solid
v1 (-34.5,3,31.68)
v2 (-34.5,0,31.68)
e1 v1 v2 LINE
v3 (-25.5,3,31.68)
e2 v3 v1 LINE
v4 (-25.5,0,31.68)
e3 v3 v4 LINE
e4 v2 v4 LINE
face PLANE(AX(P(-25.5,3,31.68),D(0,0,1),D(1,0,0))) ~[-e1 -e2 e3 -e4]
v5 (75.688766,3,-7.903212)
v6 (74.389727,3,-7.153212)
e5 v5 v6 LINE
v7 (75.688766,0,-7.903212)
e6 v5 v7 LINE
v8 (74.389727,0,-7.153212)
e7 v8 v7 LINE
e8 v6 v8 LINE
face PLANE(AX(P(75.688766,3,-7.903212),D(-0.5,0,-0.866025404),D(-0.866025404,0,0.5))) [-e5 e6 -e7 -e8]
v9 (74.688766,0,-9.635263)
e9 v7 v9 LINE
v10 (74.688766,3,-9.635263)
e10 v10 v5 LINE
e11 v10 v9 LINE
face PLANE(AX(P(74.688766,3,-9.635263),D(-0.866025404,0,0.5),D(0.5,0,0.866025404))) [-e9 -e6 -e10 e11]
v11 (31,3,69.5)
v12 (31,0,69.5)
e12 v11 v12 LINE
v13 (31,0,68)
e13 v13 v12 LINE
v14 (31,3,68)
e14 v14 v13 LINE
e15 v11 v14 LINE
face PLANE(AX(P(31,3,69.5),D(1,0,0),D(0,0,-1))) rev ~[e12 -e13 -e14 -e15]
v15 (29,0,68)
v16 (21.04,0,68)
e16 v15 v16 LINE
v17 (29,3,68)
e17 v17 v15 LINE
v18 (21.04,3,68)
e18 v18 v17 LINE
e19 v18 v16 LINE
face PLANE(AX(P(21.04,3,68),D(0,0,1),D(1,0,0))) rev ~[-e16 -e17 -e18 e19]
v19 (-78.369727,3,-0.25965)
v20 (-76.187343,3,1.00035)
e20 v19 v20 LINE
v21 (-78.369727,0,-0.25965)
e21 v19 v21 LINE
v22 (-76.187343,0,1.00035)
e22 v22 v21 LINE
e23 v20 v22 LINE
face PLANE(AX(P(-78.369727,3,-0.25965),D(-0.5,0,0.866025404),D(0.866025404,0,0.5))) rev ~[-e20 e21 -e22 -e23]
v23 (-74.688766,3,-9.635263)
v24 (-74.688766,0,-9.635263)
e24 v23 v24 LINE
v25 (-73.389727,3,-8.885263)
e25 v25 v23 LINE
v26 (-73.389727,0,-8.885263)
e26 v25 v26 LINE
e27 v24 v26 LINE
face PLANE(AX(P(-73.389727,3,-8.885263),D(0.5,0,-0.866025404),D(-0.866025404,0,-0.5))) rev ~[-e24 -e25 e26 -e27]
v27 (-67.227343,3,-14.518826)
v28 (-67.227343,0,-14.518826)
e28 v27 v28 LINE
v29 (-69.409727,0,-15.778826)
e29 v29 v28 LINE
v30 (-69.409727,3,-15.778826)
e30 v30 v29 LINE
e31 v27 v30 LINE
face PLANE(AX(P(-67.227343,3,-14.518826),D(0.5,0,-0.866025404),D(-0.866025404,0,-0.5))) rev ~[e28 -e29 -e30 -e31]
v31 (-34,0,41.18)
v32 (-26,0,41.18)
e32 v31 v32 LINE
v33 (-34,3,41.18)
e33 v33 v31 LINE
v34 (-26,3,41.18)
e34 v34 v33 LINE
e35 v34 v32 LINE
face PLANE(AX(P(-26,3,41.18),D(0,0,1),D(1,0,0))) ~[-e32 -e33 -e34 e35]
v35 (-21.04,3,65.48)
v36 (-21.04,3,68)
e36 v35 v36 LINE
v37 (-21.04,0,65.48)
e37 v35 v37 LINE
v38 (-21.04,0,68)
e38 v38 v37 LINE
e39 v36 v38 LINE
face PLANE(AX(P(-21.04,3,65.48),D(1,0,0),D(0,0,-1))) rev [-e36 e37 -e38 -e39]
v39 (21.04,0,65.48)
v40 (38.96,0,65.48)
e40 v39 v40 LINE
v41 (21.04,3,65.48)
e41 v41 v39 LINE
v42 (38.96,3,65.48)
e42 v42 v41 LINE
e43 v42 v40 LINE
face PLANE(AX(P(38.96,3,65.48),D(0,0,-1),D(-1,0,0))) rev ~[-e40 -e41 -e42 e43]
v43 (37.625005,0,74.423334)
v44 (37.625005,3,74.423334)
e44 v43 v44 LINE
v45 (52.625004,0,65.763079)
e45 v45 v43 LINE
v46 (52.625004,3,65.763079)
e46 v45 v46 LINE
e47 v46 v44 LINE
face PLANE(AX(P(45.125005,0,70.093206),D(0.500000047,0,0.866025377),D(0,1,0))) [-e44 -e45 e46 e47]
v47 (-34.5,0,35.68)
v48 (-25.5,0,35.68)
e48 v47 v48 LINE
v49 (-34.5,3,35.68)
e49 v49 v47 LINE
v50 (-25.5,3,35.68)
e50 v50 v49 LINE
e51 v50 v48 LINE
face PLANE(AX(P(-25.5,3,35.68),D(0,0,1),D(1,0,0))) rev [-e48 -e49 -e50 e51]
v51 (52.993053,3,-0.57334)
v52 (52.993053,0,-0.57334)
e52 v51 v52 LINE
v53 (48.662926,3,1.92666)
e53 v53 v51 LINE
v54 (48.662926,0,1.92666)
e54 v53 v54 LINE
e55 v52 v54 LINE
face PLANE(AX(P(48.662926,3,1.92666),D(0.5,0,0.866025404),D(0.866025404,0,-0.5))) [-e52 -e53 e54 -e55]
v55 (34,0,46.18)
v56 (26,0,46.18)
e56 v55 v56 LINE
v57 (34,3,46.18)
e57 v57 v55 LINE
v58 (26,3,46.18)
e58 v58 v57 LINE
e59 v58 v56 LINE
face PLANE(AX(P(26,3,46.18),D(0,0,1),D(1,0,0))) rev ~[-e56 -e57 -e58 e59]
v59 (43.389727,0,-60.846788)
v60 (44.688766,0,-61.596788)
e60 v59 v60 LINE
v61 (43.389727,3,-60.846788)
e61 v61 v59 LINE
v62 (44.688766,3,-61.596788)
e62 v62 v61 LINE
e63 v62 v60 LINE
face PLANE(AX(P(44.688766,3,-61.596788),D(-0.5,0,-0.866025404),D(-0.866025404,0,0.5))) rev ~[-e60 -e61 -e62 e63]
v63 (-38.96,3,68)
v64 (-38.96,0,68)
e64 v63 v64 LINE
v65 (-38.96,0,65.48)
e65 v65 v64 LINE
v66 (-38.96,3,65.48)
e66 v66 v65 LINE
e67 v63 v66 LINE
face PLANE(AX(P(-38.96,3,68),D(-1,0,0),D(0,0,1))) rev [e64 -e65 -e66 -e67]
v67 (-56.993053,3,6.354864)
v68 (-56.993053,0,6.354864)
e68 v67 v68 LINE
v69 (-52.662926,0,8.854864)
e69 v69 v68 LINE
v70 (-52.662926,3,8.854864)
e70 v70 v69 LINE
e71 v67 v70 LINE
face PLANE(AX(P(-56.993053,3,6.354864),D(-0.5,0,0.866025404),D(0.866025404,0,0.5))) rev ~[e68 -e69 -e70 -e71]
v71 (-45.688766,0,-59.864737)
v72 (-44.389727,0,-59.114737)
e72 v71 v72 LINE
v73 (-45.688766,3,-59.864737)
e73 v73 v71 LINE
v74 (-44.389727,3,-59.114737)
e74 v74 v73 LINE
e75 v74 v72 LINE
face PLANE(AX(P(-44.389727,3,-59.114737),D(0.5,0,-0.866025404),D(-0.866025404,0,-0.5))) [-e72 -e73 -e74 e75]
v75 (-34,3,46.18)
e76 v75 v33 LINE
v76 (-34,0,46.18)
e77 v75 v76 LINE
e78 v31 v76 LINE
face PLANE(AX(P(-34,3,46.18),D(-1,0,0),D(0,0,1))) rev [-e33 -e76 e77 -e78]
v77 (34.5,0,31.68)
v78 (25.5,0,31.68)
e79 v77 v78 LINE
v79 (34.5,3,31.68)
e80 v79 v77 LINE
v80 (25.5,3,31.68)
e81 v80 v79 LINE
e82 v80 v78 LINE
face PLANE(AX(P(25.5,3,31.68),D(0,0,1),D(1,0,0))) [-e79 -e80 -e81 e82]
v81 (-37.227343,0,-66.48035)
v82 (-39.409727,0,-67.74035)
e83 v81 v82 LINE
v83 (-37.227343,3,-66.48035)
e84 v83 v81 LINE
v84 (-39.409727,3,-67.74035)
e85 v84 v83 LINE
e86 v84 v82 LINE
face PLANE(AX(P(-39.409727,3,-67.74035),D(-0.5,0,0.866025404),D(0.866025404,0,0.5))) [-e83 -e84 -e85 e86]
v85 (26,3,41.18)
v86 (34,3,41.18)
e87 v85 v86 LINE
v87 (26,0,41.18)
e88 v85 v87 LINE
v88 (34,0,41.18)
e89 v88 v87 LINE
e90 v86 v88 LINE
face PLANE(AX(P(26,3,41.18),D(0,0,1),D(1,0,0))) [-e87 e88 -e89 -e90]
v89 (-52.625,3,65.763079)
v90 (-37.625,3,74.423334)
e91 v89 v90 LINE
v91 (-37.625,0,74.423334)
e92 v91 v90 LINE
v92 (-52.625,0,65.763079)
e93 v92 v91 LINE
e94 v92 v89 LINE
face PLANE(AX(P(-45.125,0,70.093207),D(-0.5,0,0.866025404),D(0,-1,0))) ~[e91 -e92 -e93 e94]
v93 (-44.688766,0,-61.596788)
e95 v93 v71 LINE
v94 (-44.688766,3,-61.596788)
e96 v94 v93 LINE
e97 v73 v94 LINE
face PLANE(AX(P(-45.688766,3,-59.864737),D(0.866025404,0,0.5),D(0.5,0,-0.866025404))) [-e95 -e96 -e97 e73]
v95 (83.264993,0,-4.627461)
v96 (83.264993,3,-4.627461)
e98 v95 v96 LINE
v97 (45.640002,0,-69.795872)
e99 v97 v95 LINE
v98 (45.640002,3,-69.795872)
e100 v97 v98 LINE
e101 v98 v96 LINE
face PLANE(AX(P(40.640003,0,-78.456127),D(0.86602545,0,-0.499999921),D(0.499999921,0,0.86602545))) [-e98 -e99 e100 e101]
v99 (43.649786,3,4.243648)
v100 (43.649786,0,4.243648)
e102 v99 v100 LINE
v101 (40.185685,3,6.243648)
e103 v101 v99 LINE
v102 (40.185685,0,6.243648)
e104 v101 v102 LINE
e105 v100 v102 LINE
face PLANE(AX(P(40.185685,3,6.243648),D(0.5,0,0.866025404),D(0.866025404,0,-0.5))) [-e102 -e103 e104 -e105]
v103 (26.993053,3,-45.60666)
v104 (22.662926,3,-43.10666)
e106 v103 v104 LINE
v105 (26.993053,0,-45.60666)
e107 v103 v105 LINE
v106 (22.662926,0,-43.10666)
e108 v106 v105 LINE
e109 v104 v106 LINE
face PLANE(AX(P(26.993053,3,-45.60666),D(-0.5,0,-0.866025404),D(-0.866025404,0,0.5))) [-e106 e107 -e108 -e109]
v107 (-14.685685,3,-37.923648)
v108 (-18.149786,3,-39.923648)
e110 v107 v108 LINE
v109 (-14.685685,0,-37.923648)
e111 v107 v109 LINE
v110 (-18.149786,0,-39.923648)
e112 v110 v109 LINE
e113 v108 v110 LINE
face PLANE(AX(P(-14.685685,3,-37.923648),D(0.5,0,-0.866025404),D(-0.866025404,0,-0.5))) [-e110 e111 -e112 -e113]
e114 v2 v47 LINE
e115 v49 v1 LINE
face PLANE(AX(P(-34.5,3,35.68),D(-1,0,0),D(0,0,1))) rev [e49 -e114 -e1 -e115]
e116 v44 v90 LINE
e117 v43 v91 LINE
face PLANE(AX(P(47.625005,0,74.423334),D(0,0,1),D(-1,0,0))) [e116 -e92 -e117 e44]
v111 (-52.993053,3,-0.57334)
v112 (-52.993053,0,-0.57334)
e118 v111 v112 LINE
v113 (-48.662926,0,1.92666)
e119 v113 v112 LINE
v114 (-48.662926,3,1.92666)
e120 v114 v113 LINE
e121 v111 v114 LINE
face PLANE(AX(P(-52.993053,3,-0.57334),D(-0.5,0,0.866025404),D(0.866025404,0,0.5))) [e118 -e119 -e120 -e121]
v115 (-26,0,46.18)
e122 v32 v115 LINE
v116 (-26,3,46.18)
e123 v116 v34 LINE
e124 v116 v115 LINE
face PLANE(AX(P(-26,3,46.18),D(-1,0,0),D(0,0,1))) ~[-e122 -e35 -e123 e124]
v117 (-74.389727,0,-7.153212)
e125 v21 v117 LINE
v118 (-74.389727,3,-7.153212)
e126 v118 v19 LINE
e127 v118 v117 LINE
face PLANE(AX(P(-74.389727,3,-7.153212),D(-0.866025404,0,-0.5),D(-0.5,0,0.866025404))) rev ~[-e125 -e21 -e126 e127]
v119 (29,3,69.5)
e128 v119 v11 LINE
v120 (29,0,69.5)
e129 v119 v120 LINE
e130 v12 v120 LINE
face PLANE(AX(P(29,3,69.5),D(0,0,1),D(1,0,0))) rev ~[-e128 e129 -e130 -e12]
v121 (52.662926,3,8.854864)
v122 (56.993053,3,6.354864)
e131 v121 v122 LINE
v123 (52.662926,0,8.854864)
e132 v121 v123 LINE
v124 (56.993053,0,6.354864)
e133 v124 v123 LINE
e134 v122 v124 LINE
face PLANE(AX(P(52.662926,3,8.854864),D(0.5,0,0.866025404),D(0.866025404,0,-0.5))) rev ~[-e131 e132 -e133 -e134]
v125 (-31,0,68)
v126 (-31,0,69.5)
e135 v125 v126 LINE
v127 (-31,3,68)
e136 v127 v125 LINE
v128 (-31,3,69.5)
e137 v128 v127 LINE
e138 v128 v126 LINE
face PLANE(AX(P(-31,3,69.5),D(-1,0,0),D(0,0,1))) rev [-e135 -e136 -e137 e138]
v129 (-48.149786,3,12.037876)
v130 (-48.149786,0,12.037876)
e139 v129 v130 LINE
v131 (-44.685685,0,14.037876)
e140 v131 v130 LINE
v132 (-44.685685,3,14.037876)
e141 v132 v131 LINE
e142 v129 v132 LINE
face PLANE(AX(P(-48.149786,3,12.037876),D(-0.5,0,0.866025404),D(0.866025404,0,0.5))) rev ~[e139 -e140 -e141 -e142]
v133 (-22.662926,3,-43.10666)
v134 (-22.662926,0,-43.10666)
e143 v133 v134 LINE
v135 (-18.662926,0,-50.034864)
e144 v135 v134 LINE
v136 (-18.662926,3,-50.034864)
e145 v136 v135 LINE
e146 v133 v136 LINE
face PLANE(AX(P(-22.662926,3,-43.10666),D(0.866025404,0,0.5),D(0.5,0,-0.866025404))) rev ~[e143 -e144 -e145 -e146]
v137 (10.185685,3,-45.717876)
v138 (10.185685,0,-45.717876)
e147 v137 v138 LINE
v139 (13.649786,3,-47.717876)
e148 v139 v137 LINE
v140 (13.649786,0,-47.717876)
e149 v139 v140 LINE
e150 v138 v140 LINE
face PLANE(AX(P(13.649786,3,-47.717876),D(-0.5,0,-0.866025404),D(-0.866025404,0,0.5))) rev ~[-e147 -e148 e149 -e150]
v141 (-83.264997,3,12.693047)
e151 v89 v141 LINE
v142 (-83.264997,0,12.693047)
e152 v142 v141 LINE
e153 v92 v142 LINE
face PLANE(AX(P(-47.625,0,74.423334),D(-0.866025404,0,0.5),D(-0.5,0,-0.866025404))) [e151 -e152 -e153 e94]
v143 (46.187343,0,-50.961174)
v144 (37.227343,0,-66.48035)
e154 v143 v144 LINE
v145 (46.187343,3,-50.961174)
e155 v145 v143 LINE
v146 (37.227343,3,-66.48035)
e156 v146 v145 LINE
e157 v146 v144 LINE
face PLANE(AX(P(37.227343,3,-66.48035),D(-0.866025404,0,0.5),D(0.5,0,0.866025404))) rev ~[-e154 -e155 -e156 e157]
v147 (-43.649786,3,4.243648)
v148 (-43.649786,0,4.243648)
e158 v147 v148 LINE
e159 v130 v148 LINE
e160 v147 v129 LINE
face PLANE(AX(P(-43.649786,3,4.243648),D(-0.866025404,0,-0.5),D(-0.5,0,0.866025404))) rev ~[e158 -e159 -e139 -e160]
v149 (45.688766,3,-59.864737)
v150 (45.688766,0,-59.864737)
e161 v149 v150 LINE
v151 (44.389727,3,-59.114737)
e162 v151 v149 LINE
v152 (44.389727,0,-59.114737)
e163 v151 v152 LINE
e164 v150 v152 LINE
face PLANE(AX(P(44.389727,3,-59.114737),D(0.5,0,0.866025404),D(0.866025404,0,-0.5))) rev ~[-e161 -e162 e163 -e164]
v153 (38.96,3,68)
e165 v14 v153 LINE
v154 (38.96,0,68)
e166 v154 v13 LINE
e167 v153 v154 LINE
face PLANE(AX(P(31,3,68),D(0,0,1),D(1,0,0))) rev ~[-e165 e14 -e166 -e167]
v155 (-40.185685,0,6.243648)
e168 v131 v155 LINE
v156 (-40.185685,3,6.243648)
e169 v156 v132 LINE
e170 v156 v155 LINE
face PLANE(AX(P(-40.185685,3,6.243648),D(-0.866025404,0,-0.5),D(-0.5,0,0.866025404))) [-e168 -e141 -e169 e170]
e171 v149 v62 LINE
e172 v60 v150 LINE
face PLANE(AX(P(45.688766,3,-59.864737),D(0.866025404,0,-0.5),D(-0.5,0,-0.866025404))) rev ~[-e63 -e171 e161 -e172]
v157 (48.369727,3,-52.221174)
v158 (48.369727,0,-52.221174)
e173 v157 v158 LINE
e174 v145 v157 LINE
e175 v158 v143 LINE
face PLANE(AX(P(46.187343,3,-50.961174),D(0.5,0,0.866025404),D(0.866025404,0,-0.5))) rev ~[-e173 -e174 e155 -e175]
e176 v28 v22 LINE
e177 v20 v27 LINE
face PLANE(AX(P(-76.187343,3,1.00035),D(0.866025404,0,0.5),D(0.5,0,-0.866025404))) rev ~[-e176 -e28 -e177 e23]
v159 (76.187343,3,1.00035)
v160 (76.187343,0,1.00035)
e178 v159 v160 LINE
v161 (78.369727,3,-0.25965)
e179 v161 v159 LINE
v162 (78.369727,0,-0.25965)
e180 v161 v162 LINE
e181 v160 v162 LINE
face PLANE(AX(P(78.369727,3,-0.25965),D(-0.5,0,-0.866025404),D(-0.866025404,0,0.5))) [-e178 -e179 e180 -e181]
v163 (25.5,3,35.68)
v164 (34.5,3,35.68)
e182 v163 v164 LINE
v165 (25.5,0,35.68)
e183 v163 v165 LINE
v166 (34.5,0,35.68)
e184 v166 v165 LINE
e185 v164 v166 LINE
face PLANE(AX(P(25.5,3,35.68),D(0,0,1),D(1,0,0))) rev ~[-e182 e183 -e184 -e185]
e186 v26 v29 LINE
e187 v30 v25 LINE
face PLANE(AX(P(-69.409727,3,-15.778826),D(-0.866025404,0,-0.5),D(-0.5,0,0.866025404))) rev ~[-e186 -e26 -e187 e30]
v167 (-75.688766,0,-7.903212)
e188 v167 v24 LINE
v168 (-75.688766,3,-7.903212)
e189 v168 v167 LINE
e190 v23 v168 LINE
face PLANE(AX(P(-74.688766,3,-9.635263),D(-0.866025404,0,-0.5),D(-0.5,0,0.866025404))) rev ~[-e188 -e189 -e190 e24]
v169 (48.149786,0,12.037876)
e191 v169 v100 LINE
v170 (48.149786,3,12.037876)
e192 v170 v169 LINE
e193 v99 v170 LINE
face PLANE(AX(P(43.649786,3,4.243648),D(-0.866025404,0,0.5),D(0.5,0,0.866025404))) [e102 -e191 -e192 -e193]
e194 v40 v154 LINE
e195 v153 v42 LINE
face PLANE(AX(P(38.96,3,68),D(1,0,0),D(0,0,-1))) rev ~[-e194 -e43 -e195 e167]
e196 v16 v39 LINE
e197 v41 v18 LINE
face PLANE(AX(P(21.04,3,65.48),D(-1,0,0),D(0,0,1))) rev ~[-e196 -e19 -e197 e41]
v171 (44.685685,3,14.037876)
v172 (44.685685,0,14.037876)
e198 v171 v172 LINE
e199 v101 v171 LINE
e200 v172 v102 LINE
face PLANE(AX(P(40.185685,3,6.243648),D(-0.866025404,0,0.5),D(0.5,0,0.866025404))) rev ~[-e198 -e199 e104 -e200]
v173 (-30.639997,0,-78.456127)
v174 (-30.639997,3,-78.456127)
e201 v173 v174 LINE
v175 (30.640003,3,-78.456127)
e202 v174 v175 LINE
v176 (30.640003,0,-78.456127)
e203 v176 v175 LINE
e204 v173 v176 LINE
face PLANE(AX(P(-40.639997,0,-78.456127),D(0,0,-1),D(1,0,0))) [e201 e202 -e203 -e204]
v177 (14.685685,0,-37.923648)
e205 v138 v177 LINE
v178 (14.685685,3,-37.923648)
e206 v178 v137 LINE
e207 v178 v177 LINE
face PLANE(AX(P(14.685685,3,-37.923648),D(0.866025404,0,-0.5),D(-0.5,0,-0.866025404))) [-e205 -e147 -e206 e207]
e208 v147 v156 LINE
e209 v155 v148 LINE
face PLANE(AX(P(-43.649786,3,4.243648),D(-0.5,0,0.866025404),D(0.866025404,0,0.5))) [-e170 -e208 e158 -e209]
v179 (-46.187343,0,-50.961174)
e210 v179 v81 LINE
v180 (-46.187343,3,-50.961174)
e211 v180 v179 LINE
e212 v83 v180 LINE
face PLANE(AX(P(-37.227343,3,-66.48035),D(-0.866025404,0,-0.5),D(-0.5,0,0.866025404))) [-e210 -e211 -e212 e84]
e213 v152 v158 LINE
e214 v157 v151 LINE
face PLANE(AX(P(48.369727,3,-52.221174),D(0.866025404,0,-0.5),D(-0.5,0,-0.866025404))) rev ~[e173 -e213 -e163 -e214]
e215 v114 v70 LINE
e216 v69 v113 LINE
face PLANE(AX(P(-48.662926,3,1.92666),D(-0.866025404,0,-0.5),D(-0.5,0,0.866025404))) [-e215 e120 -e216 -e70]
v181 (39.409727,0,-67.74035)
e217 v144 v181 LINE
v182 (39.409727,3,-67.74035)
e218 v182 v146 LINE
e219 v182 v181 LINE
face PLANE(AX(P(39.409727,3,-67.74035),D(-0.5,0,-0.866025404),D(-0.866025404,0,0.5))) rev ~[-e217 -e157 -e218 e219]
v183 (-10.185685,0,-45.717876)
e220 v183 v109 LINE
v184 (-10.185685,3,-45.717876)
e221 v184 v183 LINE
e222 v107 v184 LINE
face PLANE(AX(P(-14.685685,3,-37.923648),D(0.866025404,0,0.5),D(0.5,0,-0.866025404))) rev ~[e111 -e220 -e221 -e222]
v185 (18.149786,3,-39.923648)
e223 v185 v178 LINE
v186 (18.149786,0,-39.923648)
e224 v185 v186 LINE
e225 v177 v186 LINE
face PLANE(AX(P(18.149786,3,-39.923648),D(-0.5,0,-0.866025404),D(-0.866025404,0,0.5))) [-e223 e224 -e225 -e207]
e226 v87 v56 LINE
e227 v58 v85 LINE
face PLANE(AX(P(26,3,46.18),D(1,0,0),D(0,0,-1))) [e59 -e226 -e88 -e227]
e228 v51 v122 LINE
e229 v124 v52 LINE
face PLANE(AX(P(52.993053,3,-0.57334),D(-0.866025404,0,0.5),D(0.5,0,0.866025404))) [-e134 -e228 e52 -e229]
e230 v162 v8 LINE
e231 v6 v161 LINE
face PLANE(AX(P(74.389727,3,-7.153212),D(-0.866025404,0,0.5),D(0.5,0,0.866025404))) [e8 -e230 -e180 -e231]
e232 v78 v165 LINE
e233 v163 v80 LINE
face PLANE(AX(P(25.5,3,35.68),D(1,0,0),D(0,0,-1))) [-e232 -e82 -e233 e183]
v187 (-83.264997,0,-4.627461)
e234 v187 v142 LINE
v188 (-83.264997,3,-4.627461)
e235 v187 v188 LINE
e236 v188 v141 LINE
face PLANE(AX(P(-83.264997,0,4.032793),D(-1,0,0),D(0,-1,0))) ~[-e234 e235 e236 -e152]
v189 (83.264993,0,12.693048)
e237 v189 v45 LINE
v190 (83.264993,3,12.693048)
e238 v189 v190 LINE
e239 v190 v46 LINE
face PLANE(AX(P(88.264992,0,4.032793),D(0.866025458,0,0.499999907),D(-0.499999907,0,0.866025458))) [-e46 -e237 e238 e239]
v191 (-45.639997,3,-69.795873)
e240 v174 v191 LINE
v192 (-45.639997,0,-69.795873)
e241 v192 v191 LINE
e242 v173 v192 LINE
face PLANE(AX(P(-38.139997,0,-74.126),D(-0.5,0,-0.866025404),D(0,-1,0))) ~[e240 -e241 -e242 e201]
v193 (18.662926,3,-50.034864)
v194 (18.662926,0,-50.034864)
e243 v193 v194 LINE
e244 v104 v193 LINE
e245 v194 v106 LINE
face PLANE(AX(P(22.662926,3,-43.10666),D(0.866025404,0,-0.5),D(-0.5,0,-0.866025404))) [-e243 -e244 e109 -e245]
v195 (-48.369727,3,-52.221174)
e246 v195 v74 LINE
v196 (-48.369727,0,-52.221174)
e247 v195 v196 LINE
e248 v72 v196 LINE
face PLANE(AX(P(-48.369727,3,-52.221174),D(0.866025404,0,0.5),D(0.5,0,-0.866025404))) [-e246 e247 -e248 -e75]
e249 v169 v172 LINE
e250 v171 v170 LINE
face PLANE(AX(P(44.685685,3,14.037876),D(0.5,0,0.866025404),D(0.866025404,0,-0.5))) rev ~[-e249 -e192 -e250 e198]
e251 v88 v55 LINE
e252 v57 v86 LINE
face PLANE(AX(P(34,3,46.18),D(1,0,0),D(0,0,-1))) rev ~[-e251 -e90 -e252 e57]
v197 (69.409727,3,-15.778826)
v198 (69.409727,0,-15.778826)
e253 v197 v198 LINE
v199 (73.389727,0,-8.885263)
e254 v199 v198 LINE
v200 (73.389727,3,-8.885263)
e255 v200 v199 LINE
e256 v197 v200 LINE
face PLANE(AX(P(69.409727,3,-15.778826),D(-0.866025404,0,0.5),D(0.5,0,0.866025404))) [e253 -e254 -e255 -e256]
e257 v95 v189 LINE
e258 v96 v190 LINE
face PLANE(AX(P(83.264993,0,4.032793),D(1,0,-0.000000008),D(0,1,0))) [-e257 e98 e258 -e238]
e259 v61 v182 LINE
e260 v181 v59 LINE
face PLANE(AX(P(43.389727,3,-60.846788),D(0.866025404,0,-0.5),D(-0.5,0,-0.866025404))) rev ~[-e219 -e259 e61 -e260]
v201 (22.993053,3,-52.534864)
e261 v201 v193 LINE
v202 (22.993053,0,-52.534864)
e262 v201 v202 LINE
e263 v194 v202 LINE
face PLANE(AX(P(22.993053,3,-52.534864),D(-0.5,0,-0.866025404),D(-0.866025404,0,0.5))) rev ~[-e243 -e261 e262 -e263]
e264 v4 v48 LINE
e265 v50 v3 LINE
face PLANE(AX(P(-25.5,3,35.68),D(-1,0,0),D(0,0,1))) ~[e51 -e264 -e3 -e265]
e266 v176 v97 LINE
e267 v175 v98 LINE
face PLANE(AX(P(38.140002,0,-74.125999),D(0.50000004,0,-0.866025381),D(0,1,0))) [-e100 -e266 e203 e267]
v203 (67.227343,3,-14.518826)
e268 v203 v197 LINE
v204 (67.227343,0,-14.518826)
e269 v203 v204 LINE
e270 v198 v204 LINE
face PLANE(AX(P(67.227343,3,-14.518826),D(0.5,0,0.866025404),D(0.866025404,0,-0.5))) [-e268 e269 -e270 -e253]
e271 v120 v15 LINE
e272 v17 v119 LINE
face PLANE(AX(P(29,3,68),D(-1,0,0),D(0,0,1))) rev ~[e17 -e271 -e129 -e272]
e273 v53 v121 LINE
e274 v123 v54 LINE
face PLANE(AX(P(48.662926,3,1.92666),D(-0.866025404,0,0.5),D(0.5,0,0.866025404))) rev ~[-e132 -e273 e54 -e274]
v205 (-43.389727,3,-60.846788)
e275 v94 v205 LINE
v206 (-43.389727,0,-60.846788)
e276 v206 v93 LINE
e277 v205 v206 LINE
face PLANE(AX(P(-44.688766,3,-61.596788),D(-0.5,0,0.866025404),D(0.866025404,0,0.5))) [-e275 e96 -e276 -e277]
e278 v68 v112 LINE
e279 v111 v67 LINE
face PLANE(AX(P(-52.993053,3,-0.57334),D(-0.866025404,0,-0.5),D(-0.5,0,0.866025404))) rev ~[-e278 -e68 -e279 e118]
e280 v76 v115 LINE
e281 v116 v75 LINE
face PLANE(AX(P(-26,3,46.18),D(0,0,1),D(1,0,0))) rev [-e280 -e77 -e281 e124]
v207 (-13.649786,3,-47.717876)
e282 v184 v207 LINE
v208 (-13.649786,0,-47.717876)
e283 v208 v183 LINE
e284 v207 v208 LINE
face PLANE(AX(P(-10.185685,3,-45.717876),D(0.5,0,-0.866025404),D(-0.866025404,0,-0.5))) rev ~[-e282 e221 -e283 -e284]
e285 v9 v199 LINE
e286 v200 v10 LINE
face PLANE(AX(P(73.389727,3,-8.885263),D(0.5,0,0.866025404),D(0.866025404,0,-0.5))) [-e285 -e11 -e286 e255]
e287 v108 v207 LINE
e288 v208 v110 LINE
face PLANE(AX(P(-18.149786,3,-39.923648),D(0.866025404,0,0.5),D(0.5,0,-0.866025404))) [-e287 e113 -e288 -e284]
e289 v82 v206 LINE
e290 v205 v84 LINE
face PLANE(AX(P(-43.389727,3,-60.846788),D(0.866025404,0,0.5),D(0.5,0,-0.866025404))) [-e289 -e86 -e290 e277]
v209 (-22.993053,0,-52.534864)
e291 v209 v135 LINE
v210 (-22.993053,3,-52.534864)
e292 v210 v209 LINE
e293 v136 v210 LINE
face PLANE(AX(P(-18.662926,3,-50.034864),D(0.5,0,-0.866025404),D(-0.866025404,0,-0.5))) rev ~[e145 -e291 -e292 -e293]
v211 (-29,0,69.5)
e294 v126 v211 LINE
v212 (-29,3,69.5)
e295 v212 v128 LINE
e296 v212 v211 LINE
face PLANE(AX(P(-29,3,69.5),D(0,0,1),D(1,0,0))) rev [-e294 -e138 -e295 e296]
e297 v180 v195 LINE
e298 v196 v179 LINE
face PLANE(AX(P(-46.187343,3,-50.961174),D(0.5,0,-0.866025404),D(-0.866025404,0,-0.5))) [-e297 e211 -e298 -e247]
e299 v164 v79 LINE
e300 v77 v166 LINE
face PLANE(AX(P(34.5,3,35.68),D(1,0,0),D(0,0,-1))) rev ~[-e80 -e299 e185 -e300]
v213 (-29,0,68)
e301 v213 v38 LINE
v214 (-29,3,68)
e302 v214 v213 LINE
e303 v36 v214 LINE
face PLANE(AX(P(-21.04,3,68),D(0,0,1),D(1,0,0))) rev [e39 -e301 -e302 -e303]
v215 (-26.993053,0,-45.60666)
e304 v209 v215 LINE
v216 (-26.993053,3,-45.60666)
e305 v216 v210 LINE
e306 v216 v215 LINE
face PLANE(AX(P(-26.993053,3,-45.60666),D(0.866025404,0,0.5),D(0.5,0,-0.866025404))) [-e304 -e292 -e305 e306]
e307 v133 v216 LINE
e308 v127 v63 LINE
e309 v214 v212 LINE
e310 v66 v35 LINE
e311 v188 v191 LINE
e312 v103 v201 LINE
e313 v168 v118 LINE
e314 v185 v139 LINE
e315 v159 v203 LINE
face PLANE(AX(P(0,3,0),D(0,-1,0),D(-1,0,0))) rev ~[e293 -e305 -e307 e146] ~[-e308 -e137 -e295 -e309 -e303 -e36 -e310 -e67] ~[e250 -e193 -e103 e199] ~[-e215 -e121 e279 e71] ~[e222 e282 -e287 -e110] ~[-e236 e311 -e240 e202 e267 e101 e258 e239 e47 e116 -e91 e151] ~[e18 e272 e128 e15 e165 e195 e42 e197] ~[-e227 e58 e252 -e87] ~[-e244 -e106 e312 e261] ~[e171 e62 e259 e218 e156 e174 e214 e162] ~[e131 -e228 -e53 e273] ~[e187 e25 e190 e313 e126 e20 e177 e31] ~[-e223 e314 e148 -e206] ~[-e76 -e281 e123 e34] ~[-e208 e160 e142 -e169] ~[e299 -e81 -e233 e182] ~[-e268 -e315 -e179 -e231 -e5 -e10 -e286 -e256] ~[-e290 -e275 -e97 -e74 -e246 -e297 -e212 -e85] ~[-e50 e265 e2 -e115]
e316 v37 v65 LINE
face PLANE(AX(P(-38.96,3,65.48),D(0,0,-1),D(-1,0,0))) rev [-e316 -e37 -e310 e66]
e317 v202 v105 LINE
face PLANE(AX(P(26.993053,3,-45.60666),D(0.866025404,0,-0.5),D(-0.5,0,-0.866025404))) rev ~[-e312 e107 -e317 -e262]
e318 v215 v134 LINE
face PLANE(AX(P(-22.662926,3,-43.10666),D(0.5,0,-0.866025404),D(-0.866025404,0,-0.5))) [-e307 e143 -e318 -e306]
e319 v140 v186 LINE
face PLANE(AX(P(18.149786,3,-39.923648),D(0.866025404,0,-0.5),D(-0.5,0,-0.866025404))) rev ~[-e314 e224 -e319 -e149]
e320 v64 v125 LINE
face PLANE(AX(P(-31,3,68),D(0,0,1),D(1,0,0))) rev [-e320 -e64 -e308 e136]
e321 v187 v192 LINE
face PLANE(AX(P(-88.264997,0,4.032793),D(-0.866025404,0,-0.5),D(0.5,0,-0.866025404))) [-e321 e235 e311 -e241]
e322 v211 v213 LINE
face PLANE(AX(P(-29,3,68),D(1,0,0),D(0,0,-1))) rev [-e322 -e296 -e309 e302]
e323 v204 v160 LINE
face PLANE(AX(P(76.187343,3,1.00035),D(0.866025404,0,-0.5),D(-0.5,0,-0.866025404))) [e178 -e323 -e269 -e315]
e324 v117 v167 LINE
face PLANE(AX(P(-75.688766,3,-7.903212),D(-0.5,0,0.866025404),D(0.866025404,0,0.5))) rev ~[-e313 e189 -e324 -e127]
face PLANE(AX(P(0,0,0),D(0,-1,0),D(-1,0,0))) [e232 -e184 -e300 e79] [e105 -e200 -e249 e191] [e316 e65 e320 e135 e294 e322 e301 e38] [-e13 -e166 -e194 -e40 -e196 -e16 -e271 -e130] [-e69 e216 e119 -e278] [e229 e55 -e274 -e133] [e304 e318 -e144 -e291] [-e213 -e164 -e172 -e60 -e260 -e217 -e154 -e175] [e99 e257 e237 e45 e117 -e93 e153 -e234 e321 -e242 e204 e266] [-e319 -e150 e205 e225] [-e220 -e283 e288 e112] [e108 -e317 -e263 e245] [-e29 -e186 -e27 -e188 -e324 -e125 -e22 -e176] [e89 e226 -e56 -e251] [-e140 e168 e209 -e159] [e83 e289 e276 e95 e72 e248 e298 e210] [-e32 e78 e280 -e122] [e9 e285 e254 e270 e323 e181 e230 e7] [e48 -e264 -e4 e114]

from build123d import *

# Parameters (mm, degrees)
BOSS_EXTRUDE1_DEPTH           = 3
CUT_EXTRUDE1_DEPTH            = 119.131594354
SKETCH4_W                     = 8
SKETCH4_H                     = 5
SKETCH4_W_2                   = 9
SKETCH4_H_2                   = 4
CUT_EXTRUDE2_DEPTH            = 119.131594354
CIRPATTERN1_COUNT             = 3
CIRPATTERN1_COPY_1_DEPTH      = 119.131594354
CIRPATTERN1_COPY_2_DEPTH      = 119.131594354
CIRPATTERN1_COPY_3_SKETCH_W   = 8
CIRPATTERN1_COPY_3_SKETCH_H   = 5
CIRPATTERN1_COPY_3_SKETCH_W_2 = 9
CIRPATTERN1_COPY_3_SKETCH_H_2 = 4
CIRPATTERN1_COPY_3_DEPTH      = 119.131594354
CIRPATTERN1_COPY_4_SKETCH_W   = 8
CIRPATTERN1_COPY_4_SKETCH_H   = 5
CIRPATTERN1_COPY_4_SKETCH_W_2 = 9
CIRPATTERN1_COPY_4_SKETCH_H_2 = 4
CIRPATTERN1_COPY_4_DEPTH      = 119.131594354
CHAMFER1_SIZE                 = 10


with BuildPart() as part:
    # Sketch1 → Boss-Extrude1 (new body)
    with BuildSketch(Plane(origin=(0, 0, 0), x_dir=(1, 0, 0), z_dir=(0, 1, 0))):
        Polygon((-40.639997478, 78.456126624), (40.640002522, 78.456126624), (88.264992433, -4.032793087), (47.625005045, -74.423333537), (-47.625, -74.423333537), (-88.264997478, -4.032793087), align=None)
    extrude(amount=BOSS_EXTRUDE1_DEPTH)

    # Sketch2 → Cut-Extrude1 (cut, through all)
    with BuildSketch(Plane(origin=(0, 3, 0), x_dir=(1, 0, 0), z_dir=(0, 1, 0))):
        Polygon((29, -68), (29, -69.5), (31, -69.5), (31, -68), (38.96, -68), (38.96, -65.48), (21.04, -65.48), (21.04, -68), align=None)
    cut_extrude1 = extrude(amount=-CUT_EXTRUDE1_DEPTH, mode=Mode.SUBTRACT)

    # Sketch4 → Cut-Extrude2 (cut, through all)
    with BuildSketch(Plane(origin=(0, 3, 0), x_dir=(1, 0, 0), z_dir=(0, 1, 0))):
        with Locations((30, -43.68)):
            Rectangle(SKETCH4_W, SKETCH4_H)
        with Locations((30, -33.68)):
            Rectangle(SKETCH4_W_2, SKETCH4_H_2)
    cut_extrude2 = extrude(amount=-CUT_EXTRUDE2_DEPTH, mode=Mode.SUBTRACT)

    # Mirror1: Cut-Extrude1, Cut-Extrude2 across plane
    add(cut_extrude1.mirror(Plane(origin=(0, 0, 0), x_dir=(0, 0, 1), z_dir=(1, 0, 0))), mode=Mode.SUBTRACT)
    add(cut_extrude2.mirror(Plane(origin=(0, 0, 0), x_dir=(0, 0, 1), z_dir=(1, 0, 0))), mode=Mode.SUBTRACT)

    # CirPattern1: Cut-Extrude1, Cut-Extrude2 ×3 about axis
    cirpattern1_axis = Axis((0, 0, 0), (0, 1, 0))
    add([cut_extrude1.rotate(cirpattern1_axis, i * 360 / CIRPATTERN1_COUNT) for i in range(1, CIRPATTERN1_COUNT)], mode=Mode.SUBTRACT)
    add([cut_extrude2.rotate(cirpattern1_axis, i * 360 / CIRPATTERN1_COUNT) for i in range(1, CIRPATTERN1_COUNT)], mode=Mode.SUBTRACT)

    # CirPattern1 copy 1 sketch → CirPattern1 copy 1 (cut, through all)
    with BuildSketch(Plane(origin=(0, 3, 0), x_dir=(0.4999999999999998, 0, 0.8660254037844387), z_dir=(0, 1, 0))):
        Polygon((29, 68), (29, 69.5), (31, 69.5), (31, 68), (38.96, 68), (38.96, 65.48), (21.04, 65.48), (21.04, 68), align=None)
    extrude(amount=-CIRPATTERN1_COPY_1_DEPTH, mode=Mode.SUBTRACT)

    # CirPattern1 copy 2 sketch → CirPattern1 copy 2 (cut, through all)
    with BuildSketch(Plane(origin=(0, 3, 0), x_dir=(0.5000000000000004, 0, -0.8660254037844384), z_dir=(0, 1, 0))):
        Polygon((29, 68), (29, 69.5), (31, 69.5), (31, 68), (38.96, 68), (38.96, 65.48), (21.04, 65.48), (21.04, 68), align=None)
    extrude(amount=-CIRPATTERN1_COPY_2_DEPTH, mode=Mode.SUBTRACT)

    # CirPattern1 copy 3 sketch → CirPattern1 copy 3 (cut, through all)
    with BuildSketch(Plane(origin=(0, 3, 0), x_dir=(0.4999999999999998, 0, 0.8660254037844387), z_dir=(0, 1, 0))):
        with Locations((30, 43.68)):
            Rectangle(CIRPATTERN1_COPY_3_SKETCH_W, CIRPATTERN1_COPY_3_SKETCH_H)
        with Locations((30, 33.68)):
            Rectangle(CIRPATTERN1_COPY_3_SKETCH_W_2, CIRPATTERN1_COPY_3_SKETCH_H_2)
    extrude(amount=-CIRPATTERN1_COPY_3_DEPTH, mode=Mode.SUBTRACT)

    # CirPattern1 copy 4 sketch → CirPattern1 copy 4 (cut, through all)
    with BuildSketch(Plane(origin=(0, 3, 0), x_dir=(0.5000000000000004, 0, -0.8660254037844384), z_dir=(0, 1, 0))):
        with Locations((30, 43.68)):
            Rectangle(CIRPATTERN1_COPY_4_SKETCH_W, CIRPATTERN1_COPY_4_SKETCH_H)
        with Locations((30, 33.68)):
            Rectangle(CIRPATTERN1_COPY_4_SKETCH_W_2, CIRPATTERN1_COPY_4_SKETCH_H_2)
    extrude(amount=-CIRPATTERN1_COPY_4_DEPTH, mode=Mode.SUBTRACT)

    # Chamfer1
    chamfer1_edges = [part.edges().sort_by_distance(p)[0] for p in [
        (-40.639997478, 1.5, -78.456126624),
        (40.640002522, 1.5, -78.456126624),
        (88.264992433, 1.5, 4.032793087),
        (47.625005045, 1.5, 74.423333537),
        (-47.625, 1.5, 74.423333537),
        (-88.264997478, 1.5, 4.032793087),
    ]]
    chamfer(chamfer1_edges, length=CHAMFER1_SIZE)


solid = part.part
